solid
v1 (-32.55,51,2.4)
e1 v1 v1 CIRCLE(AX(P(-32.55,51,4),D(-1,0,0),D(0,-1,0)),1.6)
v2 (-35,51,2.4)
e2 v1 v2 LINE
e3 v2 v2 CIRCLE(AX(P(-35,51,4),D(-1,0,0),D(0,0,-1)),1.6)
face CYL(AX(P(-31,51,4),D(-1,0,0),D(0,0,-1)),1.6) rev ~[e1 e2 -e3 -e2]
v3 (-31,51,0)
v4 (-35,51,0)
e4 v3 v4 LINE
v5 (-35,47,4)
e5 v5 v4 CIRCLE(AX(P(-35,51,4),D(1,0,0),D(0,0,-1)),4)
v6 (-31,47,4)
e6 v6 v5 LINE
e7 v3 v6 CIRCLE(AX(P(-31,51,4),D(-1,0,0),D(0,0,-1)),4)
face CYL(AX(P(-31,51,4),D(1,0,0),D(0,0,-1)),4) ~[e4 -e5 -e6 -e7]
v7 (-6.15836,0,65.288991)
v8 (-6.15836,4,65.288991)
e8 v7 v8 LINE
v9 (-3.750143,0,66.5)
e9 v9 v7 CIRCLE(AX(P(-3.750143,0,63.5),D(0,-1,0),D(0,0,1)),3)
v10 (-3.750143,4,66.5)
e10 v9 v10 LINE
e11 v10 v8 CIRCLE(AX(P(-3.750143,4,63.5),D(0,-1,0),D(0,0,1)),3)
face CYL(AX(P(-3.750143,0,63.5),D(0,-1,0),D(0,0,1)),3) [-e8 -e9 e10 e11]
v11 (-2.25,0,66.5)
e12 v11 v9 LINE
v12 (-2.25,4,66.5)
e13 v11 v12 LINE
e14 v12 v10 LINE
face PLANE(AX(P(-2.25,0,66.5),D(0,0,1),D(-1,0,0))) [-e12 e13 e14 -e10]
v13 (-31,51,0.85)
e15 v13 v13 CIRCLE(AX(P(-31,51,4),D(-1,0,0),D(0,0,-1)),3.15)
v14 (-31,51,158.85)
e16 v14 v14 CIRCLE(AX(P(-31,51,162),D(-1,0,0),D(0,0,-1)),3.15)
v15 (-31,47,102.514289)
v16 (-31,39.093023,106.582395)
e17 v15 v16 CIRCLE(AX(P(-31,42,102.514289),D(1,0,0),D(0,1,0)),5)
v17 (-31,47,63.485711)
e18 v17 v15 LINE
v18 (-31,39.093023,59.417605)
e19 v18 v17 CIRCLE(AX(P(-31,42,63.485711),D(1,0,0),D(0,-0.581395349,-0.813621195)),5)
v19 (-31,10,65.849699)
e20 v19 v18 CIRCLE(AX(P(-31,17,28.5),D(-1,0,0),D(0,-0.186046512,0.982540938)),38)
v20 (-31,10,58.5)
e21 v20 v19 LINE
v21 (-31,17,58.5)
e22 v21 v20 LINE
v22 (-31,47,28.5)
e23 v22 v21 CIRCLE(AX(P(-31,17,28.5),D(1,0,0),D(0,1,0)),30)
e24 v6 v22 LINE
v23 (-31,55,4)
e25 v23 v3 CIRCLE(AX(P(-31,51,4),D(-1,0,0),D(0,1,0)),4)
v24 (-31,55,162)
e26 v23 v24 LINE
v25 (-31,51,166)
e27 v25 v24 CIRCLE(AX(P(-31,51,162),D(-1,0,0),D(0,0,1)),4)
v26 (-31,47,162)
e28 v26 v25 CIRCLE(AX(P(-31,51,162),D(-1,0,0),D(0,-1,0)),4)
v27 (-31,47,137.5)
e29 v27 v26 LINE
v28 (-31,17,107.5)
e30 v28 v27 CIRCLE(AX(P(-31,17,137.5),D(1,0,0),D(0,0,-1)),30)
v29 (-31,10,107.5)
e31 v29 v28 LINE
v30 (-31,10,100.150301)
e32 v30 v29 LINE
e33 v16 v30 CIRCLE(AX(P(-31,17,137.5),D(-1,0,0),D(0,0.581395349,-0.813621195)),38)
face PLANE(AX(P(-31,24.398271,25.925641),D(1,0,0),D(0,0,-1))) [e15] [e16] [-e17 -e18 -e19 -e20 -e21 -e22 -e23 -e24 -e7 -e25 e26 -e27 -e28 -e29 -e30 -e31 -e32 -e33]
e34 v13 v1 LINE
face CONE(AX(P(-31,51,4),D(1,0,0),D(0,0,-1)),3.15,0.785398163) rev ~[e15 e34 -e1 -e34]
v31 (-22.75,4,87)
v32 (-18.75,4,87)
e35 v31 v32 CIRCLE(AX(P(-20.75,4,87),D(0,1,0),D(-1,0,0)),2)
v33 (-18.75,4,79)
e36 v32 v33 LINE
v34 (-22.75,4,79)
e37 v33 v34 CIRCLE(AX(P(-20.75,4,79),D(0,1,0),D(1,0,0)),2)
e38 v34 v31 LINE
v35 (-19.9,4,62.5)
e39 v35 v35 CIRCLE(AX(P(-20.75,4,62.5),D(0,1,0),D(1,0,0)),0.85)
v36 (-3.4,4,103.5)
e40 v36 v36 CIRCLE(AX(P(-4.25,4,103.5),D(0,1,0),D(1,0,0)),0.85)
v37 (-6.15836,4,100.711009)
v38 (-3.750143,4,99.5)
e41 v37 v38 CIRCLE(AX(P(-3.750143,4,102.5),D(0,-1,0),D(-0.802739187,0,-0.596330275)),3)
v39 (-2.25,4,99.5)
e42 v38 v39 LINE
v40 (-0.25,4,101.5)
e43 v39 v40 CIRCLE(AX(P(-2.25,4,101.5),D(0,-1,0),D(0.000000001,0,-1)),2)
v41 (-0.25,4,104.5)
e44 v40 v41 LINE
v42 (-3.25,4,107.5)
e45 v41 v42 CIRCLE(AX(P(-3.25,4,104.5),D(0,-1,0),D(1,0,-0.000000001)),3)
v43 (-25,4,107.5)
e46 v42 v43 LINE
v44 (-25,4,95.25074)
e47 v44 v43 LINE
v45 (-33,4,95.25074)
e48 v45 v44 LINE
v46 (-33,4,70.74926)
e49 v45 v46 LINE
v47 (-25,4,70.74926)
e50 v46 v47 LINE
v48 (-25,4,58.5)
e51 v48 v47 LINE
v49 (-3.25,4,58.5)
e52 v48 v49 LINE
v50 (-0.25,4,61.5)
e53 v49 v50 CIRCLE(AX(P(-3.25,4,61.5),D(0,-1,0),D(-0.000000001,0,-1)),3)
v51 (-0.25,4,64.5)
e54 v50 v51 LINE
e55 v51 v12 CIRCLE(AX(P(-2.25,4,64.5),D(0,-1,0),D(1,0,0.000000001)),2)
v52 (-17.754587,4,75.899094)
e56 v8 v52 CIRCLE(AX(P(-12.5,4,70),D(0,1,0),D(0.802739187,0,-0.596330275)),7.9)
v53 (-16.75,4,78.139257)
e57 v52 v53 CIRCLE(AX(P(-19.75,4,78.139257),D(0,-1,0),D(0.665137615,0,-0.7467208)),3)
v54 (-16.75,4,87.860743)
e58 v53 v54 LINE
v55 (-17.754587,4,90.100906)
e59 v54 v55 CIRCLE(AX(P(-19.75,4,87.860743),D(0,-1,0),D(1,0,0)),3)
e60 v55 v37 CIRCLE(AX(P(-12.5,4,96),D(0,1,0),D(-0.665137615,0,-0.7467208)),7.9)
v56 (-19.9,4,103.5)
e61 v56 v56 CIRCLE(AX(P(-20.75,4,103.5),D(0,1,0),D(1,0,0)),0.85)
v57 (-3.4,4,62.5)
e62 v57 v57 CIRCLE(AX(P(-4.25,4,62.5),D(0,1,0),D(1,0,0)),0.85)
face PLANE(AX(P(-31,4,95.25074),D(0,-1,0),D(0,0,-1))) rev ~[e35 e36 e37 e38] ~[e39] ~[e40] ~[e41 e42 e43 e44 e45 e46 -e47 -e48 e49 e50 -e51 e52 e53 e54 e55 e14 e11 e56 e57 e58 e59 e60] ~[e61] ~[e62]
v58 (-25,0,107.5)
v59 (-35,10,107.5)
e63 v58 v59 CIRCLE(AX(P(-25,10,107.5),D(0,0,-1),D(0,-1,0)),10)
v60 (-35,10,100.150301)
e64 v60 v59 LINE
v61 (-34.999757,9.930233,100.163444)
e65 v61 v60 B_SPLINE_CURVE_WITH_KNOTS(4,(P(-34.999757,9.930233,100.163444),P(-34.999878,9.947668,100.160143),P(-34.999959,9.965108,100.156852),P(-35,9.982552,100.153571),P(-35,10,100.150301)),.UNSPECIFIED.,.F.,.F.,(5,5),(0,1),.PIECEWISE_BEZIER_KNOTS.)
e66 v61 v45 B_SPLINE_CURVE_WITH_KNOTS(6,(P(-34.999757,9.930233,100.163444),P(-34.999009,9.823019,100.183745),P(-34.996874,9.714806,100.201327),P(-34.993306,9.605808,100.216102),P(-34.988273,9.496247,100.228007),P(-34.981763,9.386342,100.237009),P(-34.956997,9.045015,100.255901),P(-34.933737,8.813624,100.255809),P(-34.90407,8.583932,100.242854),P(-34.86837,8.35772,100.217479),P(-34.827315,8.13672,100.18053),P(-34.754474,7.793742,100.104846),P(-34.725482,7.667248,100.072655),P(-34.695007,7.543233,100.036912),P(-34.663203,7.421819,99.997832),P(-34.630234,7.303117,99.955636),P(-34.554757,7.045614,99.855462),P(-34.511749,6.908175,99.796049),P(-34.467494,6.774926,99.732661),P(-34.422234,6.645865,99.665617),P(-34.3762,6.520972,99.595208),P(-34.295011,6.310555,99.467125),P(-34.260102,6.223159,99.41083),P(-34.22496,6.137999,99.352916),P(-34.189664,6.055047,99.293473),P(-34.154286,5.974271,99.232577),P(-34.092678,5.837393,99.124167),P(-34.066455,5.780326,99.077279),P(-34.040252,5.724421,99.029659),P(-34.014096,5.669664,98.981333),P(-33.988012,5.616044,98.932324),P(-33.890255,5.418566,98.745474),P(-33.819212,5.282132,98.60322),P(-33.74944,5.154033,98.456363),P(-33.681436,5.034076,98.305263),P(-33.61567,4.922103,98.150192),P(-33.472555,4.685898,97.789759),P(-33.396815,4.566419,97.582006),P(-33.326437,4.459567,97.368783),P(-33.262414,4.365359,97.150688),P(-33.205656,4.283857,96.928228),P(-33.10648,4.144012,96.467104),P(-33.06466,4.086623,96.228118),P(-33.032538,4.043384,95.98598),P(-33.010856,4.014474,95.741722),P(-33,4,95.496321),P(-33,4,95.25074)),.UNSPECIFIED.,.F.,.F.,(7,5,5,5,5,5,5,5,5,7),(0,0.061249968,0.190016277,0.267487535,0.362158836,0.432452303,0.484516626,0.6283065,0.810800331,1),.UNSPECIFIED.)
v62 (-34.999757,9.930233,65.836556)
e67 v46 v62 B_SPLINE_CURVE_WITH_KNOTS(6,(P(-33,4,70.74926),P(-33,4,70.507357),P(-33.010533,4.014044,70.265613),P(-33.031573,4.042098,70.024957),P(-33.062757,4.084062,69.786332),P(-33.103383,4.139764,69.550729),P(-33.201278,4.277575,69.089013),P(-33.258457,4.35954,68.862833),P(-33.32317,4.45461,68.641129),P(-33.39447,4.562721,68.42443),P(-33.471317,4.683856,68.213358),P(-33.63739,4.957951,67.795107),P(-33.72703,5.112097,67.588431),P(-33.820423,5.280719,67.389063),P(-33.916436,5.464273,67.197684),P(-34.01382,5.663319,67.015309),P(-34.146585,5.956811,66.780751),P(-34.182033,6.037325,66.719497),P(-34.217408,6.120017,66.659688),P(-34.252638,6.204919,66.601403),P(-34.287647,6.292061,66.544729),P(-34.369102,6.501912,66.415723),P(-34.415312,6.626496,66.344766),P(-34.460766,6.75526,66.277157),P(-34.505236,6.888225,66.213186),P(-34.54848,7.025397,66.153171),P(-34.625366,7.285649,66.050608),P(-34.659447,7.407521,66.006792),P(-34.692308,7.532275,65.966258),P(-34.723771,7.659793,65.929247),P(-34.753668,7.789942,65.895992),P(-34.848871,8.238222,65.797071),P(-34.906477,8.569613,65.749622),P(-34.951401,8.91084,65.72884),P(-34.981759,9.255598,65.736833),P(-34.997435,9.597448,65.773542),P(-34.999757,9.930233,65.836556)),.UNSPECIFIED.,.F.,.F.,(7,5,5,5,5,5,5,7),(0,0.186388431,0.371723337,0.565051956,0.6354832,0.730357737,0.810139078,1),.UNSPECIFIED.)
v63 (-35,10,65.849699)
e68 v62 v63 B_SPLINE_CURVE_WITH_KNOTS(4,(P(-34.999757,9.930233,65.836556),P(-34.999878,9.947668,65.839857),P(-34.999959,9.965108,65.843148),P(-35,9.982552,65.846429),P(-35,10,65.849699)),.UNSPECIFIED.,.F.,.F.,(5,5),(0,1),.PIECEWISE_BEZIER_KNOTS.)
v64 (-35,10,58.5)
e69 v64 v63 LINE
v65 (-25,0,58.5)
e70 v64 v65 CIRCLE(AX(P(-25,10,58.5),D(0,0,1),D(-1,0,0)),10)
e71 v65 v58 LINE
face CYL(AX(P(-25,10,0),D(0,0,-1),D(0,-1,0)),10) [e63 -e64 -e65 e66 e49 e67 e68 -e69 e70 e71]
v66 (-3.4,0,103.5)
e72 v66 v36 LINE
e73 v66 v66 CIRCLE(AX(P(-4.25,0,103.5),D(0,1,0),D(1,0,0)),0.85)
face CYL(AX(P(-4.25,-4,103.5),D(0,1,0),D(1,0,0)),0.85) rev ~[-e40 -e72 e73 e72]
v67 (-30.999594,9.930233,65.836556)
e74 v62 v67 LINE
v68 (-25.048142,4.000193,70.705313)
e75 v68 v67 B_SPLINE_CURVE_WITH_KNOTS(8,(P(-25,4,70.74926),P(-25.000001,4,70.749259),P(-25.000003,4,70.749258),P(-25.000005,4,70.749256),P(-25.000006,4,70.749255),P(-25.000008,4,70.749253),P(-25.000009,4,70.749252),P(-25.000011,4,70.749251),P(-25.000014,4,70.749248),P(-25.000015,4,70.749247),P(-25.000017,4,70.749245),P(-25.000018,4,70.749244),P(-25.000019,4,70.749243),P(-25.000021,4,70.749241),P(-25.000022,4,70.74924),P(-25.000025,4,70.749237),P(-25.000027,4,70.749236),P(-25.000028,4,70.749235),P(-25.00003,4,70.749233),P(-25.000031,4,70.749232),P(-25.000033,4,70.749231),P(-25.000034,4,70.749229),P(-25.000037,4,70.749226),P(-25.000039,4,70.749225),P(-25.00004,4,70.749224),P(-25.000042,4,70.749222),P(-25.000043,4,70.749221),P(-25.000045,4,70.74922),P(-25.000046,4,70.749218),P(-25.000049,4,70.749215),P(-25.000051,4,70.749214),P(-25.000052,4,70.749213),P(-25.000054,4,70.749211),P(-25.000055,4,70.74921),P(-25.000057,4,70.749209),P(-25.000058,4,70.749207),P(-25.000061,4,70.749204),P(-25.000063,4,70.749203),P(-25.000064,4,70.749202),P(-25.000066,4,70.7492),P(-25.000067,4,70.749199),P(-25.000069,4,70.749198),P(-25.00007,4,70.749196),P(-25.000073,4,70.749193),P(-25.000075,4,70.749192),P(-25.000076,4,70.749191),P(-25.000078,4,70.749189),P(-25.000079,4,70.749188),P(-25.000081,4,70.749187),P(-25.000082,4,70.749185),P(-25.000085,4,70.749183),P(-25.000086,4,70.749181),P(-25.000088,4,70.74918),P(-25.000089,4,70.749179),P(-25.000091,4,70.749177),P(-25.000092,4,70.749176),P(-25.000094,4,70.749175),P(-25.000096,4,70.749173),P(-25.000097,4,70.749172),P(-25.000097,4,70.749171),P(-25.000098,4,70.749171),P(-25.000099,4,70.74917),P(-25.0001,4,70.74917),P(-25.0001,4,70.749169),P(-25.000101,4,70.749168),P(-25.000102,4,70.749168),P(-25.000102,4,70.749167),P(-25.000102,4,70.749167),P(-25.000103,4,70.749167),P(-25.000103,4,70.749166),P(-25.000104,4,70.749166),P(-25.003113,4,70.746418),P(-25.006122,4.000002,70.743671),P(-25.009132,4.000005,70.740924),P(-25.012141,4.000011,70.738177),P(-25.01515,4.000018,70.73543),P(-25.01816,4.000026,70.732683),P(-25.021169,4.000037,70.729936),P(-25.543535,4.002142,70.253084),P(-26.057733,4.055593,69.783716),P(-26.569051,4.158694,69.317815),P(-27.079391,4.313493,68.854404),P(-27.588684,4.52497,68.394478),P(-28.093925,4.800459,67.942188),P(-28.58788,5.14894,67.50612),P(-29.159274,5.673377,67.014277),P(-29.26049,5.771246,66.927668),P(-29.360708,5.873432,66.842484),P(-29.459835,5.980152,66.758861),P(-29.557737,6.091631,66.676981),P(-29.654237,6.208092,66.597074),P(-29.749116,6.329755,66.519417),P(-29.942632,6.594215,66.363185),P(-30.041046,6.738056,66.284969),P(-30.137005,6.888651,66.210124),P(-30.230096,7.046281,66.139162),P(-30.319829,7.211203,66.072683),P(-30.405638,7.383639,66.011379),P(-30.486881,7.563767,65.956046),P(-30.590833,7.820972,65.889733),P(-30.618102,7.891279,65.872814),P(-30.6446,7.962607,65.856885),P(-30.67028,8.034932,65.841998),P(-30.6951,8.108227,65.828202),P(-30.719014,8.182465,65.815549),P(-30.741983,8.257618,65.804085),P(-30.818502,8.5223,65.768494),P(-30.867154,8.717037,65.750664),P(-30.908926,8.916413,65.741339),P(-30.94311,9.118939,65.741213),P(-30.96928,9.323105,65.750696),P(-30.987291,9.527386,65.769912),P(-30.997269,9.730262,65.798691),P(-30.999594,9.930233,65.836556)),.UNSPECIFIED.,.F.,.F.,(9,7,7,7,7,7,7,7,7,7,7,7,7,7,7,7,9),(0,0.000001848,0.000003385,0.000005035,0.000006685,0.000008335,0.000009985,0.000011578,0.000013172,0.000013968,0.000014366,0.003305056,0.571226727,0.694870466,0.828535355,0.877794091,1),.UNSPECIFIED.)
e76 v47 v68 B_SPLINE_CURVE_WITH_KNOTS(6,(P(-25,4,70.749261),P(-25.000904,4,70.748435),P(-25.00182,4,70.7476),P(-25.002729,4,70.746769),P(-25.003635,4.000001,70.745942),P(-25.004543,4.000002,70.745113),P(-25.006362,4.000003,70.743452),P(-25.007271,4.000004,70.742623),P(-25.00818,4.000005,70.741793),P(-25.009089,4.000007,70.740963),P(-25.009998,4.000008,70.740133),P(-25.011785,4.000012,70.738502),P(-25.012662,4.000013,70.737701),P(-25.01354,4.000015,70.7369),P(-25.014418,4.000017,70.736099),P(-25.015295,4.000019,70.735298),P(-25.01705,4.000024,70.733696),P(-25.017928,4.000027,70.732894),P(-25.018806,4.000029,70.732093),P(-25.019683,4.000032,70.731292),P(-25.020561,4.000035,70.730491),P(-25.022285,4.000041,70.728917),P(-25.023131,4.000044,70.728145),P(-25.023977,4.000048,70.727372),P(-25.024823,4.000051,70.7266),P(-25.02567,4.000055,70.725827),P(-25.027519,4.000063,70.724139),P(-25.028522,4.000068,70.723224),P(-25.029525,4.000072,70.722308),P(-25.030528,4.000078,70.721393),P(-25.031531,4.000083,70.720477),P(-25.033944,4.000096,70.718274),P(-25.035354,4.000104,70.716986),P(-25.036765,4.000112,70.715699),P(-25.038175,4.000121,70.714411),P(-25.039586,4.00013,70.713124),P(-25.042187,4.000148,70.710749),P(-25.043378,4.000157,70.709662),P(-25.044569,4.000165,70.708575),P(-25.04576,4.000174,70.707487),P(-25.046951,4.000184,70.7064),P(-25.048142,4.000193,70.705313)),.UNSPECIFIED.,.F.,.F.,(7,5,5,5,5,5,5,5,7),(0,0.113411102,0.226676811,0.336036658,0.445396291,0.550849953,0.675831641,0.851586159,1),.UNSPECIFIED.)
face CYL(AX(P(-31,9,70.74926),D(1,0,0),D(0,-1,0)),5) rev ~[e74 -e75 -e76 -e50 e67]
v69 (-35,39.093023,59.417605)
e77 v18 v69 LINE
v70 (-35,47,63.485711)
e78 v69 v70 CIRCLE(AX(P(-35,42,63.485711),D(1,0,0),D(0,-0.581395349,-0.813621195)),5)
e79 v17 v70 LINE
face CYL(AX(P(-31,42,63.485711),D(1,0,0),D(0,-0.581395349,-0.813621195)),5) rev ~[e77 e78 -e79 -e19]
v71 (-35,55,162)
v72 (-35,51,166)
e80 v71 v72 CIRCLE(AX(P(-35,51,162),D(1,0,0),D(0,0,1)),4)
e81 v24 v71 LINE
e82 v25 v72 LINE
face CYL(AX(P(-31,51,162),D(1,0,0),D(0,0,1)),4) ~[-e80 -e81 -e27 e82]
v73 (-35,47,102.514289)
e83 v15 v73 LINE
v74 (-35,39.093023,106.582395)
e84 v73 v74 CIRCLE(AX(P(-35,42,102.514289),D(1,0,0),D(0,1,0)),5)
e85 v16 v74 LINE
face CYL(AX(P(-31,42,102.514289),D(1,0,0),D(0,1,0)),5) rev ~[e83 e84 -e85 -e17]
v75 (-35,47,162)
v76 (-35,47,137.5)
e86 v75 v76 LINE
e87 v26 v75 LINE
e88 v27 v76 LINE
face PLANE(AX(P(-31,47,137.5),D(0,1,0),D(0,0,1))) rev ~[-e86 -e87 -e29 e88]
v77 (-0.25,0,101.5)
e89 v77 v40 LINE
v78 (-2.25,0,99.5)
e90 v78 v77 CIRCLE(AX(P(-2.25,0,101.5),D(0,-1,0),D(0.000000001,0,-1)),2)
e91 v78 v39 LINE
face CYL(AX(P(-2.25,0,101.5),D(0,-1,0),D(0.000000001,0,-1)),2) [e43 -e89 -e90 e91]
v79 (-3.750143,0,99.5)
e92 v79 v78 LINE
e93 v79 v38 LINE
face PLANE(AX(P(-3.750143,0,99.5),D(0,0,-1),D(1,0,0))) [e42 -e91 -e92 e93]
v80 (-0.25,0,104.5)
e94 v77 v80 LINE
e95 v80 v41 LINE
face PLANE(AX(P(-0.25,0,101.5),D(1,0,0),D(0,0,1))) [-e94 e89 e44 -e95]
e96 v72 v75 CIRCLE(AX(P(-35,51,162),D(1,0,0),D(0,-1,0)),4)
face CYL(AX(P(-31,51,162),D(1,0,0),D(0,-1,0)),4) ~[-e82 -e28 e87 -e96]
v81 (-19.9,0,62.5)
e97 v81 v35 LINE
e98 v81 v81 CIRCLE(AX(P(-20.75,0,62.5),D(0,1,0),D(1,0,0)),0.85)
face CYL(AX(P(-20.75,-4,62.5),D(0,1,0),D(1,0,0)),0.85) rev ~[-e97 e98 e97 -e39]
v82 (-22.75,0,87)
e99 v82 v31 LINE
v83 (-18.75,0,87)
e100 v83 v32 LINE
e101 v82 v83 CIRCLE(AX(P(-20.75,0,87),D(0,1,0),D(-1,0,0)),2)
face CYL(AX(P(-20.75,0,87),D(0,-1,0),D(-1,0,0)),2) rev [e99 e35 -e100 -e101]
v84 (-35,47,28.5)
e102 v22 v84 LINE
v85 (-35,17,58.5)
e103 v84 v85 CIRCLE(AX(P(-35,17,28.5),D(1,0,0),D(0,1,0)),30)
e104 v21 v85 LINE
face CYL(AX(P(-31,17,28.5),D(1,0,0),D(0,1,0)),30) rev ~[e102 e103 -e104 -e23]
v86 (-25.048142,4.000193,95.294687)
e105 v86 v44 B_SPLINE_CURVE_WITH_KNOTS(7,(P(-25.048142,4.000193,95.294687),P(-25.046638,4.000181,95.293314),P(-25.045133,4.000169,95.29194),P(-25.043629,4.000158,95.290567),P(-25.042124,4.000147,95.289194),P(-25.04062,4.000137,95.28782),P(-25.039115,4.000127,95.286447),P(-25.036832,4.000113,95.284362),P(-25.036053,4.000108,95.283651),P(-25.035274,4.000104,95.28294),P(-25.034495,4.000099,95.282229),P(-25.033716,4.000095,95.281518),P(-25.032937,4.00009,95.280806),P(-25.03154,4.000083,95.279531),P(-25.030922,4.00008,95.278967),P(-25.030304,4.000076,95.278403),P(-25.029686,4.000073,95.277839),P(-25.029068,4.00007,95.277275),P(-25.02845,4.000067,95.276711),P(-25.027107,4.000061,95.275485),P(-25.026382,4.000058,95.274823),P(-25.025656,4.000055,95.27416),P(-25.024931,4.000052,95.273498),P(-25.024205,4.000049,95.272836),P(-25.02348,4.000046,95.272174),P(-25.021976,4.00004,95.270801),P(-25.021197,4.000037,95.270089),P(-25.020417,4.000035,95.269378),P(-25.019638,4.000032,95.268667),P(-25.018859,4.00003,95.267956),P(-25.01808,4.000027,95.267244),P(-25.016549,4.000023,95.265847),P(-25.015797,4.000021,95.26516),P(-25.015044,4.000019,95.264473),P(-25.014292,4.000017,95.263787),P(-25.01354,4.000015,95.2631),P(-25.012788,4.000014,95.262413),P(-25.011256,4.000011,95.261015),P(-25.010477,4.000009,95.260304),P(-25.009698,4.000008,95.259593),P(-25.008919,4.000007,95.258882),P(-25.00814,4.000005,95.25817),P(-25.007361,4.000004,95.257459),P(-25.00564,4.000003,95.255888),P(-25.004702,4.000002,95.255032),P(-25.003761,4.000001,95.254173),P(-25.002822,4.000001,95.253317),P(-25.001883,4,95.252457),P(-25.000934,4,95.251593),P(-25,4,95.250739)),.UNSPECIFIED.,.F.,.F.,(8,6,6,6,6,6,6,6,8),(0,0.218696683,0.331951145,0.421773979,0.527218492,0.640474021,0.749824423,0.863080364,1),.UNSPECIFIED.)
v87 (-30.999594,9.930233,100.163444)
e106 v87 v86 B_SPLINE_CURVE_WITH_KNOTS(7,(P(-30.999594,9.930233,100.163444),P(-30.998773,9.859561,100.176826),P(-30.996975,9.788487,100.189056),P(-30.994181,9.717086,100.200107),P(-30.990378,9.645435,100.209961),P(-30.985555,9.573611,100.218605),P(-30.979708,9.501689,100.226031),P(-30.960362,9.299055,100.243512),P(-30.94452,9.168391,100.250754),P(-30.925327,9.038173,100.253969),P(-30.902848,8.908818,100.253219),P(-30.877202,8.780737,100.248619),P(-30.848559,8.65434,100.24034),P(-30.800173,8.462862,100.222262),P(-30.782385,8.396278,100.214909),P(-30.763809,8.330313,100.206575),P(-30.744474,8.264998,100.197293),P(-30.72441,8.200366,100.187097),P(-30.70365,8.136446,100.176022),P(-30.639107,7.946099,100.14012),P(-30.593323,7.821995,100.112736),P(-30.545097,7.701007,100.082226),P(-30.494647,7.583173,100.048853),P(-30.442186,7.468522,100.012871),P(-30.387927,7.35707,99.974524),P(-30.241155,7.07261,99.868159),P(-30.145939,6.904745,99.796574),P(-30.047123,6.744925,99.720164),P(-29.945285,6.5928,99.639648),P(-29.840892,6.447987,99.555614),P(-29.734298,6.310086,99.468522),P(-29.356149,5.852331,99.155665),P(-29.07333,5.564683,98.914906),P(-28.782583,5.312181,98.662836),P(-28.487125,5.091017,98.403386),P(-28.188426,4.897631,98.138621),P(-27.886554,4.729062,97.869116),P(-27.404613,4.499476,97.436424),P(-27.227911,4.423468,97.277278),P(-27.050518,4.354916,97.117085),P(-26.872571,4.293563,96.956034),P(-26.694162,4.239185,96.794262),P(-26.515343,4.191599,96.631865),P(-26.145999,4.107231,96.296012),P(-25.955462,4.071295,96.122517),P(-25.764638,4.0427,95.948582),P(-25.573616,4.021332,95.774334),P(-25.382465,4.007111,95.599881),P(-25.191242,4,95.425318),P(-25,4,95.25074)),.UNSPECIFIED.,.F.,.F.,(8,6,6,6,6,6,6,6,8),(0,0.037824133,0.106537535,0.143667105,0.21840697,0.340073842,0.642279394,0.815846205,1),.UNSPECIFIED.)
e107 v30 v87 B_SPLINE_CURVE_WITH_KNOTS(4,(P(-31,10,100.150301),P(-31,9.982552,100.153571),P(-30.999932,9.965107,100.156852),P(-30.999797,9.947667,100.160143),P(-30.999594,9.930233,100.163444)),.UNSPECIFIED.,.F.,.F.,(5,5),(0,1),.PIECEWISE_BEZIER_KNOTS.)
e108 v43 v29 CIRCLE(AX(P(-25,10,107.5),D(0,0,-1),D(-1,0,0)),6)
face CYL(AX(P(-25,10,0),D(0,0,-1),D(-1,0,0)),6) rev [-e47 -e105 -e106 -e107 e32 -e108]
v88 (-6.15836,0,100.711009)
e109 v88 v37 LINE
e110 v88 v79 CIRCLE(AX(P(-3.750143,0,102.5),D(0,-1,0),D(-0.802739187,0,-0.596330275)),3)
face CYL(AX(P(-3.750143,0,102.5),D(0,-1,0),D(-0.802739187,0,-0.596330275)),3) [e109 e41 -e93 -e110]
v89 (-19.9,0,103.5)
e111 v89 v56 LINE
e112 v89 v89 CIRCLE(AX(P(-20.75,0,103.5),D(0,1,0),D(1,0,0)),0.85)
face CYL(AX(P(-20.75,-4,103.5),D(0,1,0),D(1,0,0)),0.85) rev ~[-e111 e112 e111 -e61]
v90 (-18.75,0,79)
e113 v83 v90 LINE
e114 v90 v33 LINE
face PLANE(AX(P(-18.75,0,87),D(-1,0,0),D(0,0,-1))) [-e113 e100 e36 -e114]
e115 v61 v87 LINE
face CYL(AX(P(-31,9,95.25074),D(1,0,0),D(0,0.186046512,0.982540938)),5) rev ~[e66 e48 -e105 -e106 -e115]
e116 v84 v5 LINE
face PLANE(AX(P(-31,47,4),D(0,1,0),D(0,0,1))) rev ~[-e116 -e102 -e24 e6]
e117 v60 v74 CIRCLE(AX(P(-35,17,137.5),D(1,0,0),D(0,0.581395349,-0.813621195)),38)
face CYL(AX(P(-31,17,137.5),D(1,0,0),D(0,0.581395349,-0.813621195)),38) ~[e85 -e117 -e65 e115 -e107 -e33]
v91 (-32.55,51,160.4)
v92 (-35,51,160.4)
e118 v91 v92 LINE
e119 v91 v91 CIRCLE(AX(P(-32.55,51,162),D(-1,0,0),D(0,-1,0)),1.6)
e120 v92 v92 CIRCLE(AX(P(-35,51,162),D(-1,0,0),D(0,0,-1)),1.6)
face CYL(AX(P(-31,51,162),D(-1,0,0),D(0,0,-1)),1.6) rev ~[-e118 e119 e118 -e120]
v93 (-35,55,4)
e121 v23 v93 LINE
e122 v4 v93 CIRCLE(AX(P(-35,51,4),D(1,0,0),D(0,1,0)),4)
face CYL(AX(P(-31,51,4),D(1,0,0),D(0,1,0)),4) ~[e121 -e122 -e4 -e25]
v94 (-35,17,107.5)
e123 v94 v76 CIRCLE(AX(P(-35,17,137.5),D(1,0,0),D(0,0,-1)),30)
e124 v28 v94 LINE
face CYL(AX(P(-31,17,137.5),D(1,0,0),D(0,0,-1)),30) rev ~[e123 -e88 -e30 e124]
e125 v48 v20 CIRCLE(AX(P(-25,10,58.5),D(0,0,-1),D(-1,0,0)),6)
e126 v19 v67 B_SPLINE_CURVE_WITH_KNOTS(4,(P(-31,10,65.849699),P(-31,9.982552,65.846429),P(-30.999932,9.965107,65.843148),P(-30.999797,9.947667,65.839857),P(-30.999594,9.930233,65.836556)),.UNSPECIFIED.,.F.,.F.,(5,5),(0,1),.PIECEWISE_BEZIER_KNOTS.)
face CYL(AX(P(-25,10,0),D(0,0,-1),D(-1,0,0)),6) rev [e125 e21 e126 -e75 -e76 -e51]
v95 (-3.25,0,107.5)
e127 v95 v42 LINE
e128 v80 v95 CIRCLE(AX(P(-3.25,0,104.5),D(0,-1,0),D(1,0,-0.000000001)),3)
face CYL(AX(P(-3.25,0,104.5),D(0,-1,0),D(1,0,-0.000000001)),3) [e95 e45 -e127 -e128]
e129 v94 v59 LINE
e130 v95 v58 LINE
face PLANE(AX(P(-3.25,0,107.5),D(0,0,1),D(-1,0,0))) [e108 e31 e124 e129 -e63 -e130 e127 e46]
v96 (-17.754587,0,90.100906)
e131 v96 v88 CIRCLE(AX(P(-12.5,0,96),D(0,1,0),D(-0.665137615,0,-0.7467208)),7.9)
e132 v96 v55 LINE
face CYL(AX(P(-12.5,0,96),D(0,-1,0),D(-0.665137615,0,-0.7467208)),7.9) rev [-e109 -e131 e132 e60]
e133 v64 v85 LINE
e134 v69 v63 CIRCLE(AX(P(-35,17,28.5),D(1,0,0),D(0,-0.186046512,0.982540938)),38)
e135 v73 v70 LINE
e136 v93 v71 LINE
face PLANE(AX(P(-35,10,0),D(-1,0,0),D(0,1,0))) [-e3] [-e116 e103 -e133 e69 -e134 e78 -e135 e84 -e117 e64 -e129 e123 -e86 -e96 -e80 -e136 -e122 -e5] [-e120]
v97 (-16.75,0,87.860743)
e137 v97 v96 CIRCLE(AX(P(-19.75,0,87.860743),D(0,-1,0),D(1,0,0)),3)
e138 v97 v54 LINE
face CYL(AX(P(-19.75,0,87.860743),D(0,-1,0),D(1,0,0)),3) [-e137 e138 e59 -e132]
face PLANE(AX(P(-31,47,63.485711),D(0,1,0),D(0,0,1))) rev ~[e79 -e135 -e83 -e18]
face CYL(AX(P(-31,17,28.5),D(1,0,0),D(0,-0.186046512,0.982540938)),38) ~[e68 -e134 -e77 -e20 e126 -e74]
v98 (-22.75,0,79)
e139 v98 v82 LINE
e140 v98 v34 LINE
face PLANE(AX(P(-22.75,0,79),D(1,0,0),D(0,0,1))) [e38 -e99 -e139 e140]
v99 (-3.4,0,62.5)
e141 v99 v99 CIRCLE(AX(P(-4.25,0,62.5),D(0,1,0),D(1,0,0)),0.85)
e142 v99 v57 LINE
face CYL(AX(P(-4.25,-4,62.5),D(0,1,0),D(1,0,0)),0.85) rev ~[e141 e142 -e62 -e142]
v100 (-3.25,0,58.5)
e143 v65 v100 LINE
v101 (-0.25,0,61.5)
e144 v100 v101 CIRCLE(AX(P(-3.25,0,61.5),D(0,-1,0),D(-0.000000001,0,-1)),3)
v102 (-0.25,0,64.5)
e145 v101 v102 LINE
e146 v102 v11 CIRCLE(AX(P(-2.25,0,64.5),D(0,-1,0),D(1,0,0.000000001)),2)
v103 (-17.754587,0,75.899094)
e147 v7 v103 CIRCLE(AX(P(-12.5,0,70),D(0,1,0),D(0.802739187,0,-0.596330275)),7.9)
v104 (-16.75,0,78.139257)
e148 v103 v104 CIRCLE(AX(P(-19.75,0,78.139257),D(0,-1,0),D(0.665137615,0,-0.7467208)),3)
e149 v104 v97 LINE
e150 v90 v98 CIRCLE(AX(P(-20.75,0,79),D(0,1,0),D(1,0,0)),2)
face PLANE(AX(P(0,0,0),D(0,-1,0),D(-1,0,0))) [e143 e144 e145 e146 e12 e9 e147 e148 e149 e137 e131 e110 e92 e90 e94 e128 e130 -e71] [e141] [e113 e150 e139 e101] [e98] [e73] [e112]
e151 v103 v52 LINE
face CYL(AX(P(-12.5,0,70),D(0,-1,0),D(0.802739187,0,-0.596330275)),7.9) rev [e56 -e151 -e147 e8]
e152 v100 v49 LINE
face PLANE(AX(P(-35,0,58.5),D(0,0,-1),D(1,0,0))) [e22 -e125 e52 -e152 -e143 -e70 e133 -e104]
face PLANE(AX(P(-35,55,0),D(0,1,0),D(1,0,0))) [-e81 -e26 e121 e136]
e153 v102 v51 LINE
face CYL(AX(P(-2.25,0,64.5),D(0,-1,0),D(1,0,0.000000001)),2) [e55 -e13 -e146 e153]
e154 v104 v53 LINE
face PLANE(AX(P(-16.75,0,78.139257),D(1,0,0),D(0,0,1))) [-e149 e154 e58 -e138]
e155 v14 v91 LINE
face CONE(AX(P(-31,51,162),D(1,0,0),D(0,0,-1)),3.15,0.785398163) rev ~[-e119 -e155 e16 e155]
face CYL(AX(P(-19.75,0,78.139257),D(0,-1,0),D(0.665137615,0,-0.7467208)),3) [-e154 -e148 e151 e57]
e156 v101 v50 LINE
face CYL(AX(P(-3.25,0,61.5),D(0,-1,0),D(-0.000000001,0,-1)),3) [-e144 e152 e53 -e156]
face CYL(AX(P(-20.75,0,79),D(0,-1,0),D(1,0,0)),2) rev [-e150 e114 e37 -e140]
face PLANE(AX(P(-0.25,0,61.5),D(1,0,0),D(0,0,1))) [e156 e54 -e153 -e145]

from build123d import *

# Parameters (mm, degrees)
BOSS_EXTRU_1_DEPTH                             = 166
FRAISAGE_POUR_VIS_T_TE_FRAIS_E_M31_D           = 3.2
FRAISAGE_POUR_VIS_T_TE_FRAIS_E_M31_DEPTH       = 4
FRAISAGE_POUR_VIS_T_TE_FRAIS_E_M31_CSINK_D     = 6.3
FRAISAGE_POUR_VIS_T_TE_FRAIS_E_M31_CSINK_ANGLE = 90
D_GAGEMENT_M1_61_D                             = 1.7
D_GAGEMENT_M1_61_DEPTH                         = 4
ENL_V_MAT_EXTRU_1_DEPTH                        = 4
ENL_V_MAT_EXTRU_2_DEPTH                        = 31.75
ENL_V_MAT_EXTRU_2_DEPTH_BACK                   = 5


with BuildPart() as part:
    # Esquisse1 → Boss.-Extru.1 (new body)
    with BuildSketch(Plane.XY):
        with BuildLine():
            Line((0, 0), (-25, 0))
            ThreePointArc((-25, 0), (-32.071067812, 2.928932188), (-35, 10))
            Line((-35, 10), (-35, 55))
            Line((-35, 55), (-31, 55))
            Line((-31, 55), (-31, 10))
            ThreePointArc((-31, 10), (-29.242640687, 5.757359313), (-25, 4))
            Line((-25, 4), (0, 4))
            Line((0, 4), (0, 0))
        make_face()
    extrude(amount=BOSS_EXTRU_1_DEPTH)

    # Fraisage pour vis à tête fraisée M31
    with Locations(Plane(origin=(-31, 0, 0), x_dir=(0, 0, 1), z_dir=(1, 0, 0))):
        with Locations((4, -51), (162, -51)):
            CounterSinkHole(FRAISAGE_POUR_VIS_T_TE_FRAIS_E_M31_D / 2, FRAISAGE_POUR_VIS_T_TE_FRAIS_E_M31_CSINK_D / 2, depth=FRAISAGE_POUR_VIS_T_TE_FRAIS_E_M31_DEPTH, counter_sink_angle=FRAISAGE_POUR_VIS_T_TE_FRAIS_E_M31_CSINK_ANGLE)

    # Dégagement M1.61
    with Locations(Plane(origin=(0, 0, 0), x_dir=(-1, 0, 0), z_dir=(0, -1, 0))):
        with Locations((20.75, -62.5), (20.75, -103.5), (4.25, -103.5), (4.25, -62.5)):
            Hole(D_GAGEMENT_M1_61_D / 2, depth=D_GAGEMENT_M1_61_DEPTH)

    # Esquisse6 → Enlèv. mat.-Extru.1 (cut)
    with BuildSketch(Plane.XZ):
        with BuildLine():
            Line((-35, 58.5), (-3.25, 58.5))
            ThreePointArc((-3.25, 58.5), (-1.128679656, 59.378679656), (-0.25, 61.5))
            Line((-0.25, 61.5), (-0.25, 64.5))
            ThreePointArc((-0.25, 64.5), (-0.835786438, 65.914213562), (-2.25, 66.5))
            Line((-2.25, 66.5), (-3.750142858, 66.5))
            ThreePointArc((-3.750142858, 66.5), (-5.097923909, 66.180202649), (-6.15836042, 65.288990826))
            ThreePointArc((-6.15836042, 65.288990826), (-17.832822404, 64.171534919), (-17.754587156, 75.899094322))
            ThreePointArc((-17.754587156, 75.899094322), (-17.012643745, 76.911706018), (-16.75, 78.139256723))
            Line((-16.75, 78.139256723), (-16.75, 87.860743277))
            ThreePointArc((-16.75, 87.860743277), (-17.012643745, 89.088293982), (-17.754587156, 90.100905678))
            ThreePointArc((-17.754587156, 90.100905678), (-17.832822404, 101.828465081), (-6.15836042, 100.711009174))
            ThreePointArc((-6.15836042, 100.711009174), (-5.097923909, 99.819797351), (-3.750142858, 99.5))
            Line((-3.750142858, 99.5), (-2.25, 99.5))
            ThreePointArc((-2.25, 99.5), (-0.835786438, 100.085786438), (-0.25, 101.5))
            Line((-0.25, 101.5), (-0.25, 104.5))
            ThreePointArc((-0.25, 104.5), (-1.128679656, 106.621320344), (-3.25, 107.5))
            Line((-3.25, 107.5), (-35, 107.5))
            Line((-35, 107.5), (-35, 166))
            Line((-35, 166), (0, 166))
            Line((0, 166), (0, 0))
            Line((0, 0), (-35, 0))
            Line((-35, 0), (-35, 58.5))
        make_face()
        with BuildLine():
            Line((-18.75, 87), (-18.75, 79))
            ThreePointArc((-18.75, 79), (-20.75, 77), (-22.75, 79))
            Line((-22.75, 79), (-22.75, 87))
            ThreePointArc((-22.75, 87), (-20.75, 89), (-18.75, 87))
        make_face()
    extrude(amount=-ENL_V_MAT_EXTRU_1_DEPTH, mode=Mode.SUBTRACT)

    # Esquisse7 → Enlèv. mat.-Extru.2 (cut, two sides)
    with BuildSketch(Plane(origin=(-31, 0, 0), x_dir=(0, 0, -1), z_dir=(1, 0, 0))) as enl_v_mat_extru_2_sk:
        with BuildLine():
            ThreePointArc((-4, 55), (-1.171572875, 53.828427125), (0, 51))
            Line((0, 51), (0, 55))
            Line((0, 55), (-4, 55))
        make_face()
        with BuildLine():
            Line((0, 4), (0, 51))
            ThreePointArc((0, 51), (-1.171572875, 48.171572875), (-4, 47))
            Line((-4, 47), (-28.5, 47))
            ThreePointArc((-28.5, 47), (-49.713203436, 38.213203436), (-58.5, 17))
            Line((-58.5, 17), (-58.5, 4))
            Line((-58.5, 4), (0, 4))
        make_face()
        with BuildLine():
            ThreePointArc((-162, 47), (-164.828427125, 48.171572875), (-166, 51))
            Line((-166, 51), (-166, 4))
            Line((-166, 4), (-107.5, 4))
            Line((-107.5, 4), (-107.5, 17))
            ThreePointArc((-107.5, 17), (-116.286796564, 38.213203436), (-137.5, 47))
            Line((-137.5, 47), (-162, 47))
        make_face()
        with BuildLine():
            Line((-166, 55), (-166, 51))
            ThreePointArc((-166, 51), (-164.828427125, 53.828427125), (-162, 55))
            Line((-162, 55), (-166, 55))
        make_face()
        with BuildLine():
            Line((-63.485711369, 47), (-102.514288631, 47))
            ThreePointArc((-102.514288631, 47), (-106.960347769, 44.287478555), (-106.582394604, 39.093023256))
            ThreePointArc((-106.582394604, 39.093023256), (-100.388347981, 25.168554611), (-100.163444343, 9.930232558))
            ThreePointArc((-100.163444343, 9.930232558), (-99.101139812, 5.810263552), (-95.250739651, 4))
            Line((-95.250739651, 4), (-70.749260349, 4))
            ThreePointArc((-70.749260349, 4), (-66.898860188, 5.810263552), (-65.836555657, 9.930232558))
            ThreePointArc((-65.836555657, 9.930232558), (-65.611652019, 25.168554611), (-59.417605396, 39.093023256))
            ThreePointArc((-59.417605396, 39.093023256), (-59.039652231, 44.287478555), (-63.485711369, 47))
        make_face()
    extrude(amount=ENL_V_MAT_EXTRU_2_DEPTH, mode=Mode.SUBTRACT)
    extrude(enl_v_mat_extru_2_sk.sketch, amount=-ENL_V_MAT_EXTRU_2_DEPTH_BACK, mode=Mode.SUBTRACT)


solid = part.part
